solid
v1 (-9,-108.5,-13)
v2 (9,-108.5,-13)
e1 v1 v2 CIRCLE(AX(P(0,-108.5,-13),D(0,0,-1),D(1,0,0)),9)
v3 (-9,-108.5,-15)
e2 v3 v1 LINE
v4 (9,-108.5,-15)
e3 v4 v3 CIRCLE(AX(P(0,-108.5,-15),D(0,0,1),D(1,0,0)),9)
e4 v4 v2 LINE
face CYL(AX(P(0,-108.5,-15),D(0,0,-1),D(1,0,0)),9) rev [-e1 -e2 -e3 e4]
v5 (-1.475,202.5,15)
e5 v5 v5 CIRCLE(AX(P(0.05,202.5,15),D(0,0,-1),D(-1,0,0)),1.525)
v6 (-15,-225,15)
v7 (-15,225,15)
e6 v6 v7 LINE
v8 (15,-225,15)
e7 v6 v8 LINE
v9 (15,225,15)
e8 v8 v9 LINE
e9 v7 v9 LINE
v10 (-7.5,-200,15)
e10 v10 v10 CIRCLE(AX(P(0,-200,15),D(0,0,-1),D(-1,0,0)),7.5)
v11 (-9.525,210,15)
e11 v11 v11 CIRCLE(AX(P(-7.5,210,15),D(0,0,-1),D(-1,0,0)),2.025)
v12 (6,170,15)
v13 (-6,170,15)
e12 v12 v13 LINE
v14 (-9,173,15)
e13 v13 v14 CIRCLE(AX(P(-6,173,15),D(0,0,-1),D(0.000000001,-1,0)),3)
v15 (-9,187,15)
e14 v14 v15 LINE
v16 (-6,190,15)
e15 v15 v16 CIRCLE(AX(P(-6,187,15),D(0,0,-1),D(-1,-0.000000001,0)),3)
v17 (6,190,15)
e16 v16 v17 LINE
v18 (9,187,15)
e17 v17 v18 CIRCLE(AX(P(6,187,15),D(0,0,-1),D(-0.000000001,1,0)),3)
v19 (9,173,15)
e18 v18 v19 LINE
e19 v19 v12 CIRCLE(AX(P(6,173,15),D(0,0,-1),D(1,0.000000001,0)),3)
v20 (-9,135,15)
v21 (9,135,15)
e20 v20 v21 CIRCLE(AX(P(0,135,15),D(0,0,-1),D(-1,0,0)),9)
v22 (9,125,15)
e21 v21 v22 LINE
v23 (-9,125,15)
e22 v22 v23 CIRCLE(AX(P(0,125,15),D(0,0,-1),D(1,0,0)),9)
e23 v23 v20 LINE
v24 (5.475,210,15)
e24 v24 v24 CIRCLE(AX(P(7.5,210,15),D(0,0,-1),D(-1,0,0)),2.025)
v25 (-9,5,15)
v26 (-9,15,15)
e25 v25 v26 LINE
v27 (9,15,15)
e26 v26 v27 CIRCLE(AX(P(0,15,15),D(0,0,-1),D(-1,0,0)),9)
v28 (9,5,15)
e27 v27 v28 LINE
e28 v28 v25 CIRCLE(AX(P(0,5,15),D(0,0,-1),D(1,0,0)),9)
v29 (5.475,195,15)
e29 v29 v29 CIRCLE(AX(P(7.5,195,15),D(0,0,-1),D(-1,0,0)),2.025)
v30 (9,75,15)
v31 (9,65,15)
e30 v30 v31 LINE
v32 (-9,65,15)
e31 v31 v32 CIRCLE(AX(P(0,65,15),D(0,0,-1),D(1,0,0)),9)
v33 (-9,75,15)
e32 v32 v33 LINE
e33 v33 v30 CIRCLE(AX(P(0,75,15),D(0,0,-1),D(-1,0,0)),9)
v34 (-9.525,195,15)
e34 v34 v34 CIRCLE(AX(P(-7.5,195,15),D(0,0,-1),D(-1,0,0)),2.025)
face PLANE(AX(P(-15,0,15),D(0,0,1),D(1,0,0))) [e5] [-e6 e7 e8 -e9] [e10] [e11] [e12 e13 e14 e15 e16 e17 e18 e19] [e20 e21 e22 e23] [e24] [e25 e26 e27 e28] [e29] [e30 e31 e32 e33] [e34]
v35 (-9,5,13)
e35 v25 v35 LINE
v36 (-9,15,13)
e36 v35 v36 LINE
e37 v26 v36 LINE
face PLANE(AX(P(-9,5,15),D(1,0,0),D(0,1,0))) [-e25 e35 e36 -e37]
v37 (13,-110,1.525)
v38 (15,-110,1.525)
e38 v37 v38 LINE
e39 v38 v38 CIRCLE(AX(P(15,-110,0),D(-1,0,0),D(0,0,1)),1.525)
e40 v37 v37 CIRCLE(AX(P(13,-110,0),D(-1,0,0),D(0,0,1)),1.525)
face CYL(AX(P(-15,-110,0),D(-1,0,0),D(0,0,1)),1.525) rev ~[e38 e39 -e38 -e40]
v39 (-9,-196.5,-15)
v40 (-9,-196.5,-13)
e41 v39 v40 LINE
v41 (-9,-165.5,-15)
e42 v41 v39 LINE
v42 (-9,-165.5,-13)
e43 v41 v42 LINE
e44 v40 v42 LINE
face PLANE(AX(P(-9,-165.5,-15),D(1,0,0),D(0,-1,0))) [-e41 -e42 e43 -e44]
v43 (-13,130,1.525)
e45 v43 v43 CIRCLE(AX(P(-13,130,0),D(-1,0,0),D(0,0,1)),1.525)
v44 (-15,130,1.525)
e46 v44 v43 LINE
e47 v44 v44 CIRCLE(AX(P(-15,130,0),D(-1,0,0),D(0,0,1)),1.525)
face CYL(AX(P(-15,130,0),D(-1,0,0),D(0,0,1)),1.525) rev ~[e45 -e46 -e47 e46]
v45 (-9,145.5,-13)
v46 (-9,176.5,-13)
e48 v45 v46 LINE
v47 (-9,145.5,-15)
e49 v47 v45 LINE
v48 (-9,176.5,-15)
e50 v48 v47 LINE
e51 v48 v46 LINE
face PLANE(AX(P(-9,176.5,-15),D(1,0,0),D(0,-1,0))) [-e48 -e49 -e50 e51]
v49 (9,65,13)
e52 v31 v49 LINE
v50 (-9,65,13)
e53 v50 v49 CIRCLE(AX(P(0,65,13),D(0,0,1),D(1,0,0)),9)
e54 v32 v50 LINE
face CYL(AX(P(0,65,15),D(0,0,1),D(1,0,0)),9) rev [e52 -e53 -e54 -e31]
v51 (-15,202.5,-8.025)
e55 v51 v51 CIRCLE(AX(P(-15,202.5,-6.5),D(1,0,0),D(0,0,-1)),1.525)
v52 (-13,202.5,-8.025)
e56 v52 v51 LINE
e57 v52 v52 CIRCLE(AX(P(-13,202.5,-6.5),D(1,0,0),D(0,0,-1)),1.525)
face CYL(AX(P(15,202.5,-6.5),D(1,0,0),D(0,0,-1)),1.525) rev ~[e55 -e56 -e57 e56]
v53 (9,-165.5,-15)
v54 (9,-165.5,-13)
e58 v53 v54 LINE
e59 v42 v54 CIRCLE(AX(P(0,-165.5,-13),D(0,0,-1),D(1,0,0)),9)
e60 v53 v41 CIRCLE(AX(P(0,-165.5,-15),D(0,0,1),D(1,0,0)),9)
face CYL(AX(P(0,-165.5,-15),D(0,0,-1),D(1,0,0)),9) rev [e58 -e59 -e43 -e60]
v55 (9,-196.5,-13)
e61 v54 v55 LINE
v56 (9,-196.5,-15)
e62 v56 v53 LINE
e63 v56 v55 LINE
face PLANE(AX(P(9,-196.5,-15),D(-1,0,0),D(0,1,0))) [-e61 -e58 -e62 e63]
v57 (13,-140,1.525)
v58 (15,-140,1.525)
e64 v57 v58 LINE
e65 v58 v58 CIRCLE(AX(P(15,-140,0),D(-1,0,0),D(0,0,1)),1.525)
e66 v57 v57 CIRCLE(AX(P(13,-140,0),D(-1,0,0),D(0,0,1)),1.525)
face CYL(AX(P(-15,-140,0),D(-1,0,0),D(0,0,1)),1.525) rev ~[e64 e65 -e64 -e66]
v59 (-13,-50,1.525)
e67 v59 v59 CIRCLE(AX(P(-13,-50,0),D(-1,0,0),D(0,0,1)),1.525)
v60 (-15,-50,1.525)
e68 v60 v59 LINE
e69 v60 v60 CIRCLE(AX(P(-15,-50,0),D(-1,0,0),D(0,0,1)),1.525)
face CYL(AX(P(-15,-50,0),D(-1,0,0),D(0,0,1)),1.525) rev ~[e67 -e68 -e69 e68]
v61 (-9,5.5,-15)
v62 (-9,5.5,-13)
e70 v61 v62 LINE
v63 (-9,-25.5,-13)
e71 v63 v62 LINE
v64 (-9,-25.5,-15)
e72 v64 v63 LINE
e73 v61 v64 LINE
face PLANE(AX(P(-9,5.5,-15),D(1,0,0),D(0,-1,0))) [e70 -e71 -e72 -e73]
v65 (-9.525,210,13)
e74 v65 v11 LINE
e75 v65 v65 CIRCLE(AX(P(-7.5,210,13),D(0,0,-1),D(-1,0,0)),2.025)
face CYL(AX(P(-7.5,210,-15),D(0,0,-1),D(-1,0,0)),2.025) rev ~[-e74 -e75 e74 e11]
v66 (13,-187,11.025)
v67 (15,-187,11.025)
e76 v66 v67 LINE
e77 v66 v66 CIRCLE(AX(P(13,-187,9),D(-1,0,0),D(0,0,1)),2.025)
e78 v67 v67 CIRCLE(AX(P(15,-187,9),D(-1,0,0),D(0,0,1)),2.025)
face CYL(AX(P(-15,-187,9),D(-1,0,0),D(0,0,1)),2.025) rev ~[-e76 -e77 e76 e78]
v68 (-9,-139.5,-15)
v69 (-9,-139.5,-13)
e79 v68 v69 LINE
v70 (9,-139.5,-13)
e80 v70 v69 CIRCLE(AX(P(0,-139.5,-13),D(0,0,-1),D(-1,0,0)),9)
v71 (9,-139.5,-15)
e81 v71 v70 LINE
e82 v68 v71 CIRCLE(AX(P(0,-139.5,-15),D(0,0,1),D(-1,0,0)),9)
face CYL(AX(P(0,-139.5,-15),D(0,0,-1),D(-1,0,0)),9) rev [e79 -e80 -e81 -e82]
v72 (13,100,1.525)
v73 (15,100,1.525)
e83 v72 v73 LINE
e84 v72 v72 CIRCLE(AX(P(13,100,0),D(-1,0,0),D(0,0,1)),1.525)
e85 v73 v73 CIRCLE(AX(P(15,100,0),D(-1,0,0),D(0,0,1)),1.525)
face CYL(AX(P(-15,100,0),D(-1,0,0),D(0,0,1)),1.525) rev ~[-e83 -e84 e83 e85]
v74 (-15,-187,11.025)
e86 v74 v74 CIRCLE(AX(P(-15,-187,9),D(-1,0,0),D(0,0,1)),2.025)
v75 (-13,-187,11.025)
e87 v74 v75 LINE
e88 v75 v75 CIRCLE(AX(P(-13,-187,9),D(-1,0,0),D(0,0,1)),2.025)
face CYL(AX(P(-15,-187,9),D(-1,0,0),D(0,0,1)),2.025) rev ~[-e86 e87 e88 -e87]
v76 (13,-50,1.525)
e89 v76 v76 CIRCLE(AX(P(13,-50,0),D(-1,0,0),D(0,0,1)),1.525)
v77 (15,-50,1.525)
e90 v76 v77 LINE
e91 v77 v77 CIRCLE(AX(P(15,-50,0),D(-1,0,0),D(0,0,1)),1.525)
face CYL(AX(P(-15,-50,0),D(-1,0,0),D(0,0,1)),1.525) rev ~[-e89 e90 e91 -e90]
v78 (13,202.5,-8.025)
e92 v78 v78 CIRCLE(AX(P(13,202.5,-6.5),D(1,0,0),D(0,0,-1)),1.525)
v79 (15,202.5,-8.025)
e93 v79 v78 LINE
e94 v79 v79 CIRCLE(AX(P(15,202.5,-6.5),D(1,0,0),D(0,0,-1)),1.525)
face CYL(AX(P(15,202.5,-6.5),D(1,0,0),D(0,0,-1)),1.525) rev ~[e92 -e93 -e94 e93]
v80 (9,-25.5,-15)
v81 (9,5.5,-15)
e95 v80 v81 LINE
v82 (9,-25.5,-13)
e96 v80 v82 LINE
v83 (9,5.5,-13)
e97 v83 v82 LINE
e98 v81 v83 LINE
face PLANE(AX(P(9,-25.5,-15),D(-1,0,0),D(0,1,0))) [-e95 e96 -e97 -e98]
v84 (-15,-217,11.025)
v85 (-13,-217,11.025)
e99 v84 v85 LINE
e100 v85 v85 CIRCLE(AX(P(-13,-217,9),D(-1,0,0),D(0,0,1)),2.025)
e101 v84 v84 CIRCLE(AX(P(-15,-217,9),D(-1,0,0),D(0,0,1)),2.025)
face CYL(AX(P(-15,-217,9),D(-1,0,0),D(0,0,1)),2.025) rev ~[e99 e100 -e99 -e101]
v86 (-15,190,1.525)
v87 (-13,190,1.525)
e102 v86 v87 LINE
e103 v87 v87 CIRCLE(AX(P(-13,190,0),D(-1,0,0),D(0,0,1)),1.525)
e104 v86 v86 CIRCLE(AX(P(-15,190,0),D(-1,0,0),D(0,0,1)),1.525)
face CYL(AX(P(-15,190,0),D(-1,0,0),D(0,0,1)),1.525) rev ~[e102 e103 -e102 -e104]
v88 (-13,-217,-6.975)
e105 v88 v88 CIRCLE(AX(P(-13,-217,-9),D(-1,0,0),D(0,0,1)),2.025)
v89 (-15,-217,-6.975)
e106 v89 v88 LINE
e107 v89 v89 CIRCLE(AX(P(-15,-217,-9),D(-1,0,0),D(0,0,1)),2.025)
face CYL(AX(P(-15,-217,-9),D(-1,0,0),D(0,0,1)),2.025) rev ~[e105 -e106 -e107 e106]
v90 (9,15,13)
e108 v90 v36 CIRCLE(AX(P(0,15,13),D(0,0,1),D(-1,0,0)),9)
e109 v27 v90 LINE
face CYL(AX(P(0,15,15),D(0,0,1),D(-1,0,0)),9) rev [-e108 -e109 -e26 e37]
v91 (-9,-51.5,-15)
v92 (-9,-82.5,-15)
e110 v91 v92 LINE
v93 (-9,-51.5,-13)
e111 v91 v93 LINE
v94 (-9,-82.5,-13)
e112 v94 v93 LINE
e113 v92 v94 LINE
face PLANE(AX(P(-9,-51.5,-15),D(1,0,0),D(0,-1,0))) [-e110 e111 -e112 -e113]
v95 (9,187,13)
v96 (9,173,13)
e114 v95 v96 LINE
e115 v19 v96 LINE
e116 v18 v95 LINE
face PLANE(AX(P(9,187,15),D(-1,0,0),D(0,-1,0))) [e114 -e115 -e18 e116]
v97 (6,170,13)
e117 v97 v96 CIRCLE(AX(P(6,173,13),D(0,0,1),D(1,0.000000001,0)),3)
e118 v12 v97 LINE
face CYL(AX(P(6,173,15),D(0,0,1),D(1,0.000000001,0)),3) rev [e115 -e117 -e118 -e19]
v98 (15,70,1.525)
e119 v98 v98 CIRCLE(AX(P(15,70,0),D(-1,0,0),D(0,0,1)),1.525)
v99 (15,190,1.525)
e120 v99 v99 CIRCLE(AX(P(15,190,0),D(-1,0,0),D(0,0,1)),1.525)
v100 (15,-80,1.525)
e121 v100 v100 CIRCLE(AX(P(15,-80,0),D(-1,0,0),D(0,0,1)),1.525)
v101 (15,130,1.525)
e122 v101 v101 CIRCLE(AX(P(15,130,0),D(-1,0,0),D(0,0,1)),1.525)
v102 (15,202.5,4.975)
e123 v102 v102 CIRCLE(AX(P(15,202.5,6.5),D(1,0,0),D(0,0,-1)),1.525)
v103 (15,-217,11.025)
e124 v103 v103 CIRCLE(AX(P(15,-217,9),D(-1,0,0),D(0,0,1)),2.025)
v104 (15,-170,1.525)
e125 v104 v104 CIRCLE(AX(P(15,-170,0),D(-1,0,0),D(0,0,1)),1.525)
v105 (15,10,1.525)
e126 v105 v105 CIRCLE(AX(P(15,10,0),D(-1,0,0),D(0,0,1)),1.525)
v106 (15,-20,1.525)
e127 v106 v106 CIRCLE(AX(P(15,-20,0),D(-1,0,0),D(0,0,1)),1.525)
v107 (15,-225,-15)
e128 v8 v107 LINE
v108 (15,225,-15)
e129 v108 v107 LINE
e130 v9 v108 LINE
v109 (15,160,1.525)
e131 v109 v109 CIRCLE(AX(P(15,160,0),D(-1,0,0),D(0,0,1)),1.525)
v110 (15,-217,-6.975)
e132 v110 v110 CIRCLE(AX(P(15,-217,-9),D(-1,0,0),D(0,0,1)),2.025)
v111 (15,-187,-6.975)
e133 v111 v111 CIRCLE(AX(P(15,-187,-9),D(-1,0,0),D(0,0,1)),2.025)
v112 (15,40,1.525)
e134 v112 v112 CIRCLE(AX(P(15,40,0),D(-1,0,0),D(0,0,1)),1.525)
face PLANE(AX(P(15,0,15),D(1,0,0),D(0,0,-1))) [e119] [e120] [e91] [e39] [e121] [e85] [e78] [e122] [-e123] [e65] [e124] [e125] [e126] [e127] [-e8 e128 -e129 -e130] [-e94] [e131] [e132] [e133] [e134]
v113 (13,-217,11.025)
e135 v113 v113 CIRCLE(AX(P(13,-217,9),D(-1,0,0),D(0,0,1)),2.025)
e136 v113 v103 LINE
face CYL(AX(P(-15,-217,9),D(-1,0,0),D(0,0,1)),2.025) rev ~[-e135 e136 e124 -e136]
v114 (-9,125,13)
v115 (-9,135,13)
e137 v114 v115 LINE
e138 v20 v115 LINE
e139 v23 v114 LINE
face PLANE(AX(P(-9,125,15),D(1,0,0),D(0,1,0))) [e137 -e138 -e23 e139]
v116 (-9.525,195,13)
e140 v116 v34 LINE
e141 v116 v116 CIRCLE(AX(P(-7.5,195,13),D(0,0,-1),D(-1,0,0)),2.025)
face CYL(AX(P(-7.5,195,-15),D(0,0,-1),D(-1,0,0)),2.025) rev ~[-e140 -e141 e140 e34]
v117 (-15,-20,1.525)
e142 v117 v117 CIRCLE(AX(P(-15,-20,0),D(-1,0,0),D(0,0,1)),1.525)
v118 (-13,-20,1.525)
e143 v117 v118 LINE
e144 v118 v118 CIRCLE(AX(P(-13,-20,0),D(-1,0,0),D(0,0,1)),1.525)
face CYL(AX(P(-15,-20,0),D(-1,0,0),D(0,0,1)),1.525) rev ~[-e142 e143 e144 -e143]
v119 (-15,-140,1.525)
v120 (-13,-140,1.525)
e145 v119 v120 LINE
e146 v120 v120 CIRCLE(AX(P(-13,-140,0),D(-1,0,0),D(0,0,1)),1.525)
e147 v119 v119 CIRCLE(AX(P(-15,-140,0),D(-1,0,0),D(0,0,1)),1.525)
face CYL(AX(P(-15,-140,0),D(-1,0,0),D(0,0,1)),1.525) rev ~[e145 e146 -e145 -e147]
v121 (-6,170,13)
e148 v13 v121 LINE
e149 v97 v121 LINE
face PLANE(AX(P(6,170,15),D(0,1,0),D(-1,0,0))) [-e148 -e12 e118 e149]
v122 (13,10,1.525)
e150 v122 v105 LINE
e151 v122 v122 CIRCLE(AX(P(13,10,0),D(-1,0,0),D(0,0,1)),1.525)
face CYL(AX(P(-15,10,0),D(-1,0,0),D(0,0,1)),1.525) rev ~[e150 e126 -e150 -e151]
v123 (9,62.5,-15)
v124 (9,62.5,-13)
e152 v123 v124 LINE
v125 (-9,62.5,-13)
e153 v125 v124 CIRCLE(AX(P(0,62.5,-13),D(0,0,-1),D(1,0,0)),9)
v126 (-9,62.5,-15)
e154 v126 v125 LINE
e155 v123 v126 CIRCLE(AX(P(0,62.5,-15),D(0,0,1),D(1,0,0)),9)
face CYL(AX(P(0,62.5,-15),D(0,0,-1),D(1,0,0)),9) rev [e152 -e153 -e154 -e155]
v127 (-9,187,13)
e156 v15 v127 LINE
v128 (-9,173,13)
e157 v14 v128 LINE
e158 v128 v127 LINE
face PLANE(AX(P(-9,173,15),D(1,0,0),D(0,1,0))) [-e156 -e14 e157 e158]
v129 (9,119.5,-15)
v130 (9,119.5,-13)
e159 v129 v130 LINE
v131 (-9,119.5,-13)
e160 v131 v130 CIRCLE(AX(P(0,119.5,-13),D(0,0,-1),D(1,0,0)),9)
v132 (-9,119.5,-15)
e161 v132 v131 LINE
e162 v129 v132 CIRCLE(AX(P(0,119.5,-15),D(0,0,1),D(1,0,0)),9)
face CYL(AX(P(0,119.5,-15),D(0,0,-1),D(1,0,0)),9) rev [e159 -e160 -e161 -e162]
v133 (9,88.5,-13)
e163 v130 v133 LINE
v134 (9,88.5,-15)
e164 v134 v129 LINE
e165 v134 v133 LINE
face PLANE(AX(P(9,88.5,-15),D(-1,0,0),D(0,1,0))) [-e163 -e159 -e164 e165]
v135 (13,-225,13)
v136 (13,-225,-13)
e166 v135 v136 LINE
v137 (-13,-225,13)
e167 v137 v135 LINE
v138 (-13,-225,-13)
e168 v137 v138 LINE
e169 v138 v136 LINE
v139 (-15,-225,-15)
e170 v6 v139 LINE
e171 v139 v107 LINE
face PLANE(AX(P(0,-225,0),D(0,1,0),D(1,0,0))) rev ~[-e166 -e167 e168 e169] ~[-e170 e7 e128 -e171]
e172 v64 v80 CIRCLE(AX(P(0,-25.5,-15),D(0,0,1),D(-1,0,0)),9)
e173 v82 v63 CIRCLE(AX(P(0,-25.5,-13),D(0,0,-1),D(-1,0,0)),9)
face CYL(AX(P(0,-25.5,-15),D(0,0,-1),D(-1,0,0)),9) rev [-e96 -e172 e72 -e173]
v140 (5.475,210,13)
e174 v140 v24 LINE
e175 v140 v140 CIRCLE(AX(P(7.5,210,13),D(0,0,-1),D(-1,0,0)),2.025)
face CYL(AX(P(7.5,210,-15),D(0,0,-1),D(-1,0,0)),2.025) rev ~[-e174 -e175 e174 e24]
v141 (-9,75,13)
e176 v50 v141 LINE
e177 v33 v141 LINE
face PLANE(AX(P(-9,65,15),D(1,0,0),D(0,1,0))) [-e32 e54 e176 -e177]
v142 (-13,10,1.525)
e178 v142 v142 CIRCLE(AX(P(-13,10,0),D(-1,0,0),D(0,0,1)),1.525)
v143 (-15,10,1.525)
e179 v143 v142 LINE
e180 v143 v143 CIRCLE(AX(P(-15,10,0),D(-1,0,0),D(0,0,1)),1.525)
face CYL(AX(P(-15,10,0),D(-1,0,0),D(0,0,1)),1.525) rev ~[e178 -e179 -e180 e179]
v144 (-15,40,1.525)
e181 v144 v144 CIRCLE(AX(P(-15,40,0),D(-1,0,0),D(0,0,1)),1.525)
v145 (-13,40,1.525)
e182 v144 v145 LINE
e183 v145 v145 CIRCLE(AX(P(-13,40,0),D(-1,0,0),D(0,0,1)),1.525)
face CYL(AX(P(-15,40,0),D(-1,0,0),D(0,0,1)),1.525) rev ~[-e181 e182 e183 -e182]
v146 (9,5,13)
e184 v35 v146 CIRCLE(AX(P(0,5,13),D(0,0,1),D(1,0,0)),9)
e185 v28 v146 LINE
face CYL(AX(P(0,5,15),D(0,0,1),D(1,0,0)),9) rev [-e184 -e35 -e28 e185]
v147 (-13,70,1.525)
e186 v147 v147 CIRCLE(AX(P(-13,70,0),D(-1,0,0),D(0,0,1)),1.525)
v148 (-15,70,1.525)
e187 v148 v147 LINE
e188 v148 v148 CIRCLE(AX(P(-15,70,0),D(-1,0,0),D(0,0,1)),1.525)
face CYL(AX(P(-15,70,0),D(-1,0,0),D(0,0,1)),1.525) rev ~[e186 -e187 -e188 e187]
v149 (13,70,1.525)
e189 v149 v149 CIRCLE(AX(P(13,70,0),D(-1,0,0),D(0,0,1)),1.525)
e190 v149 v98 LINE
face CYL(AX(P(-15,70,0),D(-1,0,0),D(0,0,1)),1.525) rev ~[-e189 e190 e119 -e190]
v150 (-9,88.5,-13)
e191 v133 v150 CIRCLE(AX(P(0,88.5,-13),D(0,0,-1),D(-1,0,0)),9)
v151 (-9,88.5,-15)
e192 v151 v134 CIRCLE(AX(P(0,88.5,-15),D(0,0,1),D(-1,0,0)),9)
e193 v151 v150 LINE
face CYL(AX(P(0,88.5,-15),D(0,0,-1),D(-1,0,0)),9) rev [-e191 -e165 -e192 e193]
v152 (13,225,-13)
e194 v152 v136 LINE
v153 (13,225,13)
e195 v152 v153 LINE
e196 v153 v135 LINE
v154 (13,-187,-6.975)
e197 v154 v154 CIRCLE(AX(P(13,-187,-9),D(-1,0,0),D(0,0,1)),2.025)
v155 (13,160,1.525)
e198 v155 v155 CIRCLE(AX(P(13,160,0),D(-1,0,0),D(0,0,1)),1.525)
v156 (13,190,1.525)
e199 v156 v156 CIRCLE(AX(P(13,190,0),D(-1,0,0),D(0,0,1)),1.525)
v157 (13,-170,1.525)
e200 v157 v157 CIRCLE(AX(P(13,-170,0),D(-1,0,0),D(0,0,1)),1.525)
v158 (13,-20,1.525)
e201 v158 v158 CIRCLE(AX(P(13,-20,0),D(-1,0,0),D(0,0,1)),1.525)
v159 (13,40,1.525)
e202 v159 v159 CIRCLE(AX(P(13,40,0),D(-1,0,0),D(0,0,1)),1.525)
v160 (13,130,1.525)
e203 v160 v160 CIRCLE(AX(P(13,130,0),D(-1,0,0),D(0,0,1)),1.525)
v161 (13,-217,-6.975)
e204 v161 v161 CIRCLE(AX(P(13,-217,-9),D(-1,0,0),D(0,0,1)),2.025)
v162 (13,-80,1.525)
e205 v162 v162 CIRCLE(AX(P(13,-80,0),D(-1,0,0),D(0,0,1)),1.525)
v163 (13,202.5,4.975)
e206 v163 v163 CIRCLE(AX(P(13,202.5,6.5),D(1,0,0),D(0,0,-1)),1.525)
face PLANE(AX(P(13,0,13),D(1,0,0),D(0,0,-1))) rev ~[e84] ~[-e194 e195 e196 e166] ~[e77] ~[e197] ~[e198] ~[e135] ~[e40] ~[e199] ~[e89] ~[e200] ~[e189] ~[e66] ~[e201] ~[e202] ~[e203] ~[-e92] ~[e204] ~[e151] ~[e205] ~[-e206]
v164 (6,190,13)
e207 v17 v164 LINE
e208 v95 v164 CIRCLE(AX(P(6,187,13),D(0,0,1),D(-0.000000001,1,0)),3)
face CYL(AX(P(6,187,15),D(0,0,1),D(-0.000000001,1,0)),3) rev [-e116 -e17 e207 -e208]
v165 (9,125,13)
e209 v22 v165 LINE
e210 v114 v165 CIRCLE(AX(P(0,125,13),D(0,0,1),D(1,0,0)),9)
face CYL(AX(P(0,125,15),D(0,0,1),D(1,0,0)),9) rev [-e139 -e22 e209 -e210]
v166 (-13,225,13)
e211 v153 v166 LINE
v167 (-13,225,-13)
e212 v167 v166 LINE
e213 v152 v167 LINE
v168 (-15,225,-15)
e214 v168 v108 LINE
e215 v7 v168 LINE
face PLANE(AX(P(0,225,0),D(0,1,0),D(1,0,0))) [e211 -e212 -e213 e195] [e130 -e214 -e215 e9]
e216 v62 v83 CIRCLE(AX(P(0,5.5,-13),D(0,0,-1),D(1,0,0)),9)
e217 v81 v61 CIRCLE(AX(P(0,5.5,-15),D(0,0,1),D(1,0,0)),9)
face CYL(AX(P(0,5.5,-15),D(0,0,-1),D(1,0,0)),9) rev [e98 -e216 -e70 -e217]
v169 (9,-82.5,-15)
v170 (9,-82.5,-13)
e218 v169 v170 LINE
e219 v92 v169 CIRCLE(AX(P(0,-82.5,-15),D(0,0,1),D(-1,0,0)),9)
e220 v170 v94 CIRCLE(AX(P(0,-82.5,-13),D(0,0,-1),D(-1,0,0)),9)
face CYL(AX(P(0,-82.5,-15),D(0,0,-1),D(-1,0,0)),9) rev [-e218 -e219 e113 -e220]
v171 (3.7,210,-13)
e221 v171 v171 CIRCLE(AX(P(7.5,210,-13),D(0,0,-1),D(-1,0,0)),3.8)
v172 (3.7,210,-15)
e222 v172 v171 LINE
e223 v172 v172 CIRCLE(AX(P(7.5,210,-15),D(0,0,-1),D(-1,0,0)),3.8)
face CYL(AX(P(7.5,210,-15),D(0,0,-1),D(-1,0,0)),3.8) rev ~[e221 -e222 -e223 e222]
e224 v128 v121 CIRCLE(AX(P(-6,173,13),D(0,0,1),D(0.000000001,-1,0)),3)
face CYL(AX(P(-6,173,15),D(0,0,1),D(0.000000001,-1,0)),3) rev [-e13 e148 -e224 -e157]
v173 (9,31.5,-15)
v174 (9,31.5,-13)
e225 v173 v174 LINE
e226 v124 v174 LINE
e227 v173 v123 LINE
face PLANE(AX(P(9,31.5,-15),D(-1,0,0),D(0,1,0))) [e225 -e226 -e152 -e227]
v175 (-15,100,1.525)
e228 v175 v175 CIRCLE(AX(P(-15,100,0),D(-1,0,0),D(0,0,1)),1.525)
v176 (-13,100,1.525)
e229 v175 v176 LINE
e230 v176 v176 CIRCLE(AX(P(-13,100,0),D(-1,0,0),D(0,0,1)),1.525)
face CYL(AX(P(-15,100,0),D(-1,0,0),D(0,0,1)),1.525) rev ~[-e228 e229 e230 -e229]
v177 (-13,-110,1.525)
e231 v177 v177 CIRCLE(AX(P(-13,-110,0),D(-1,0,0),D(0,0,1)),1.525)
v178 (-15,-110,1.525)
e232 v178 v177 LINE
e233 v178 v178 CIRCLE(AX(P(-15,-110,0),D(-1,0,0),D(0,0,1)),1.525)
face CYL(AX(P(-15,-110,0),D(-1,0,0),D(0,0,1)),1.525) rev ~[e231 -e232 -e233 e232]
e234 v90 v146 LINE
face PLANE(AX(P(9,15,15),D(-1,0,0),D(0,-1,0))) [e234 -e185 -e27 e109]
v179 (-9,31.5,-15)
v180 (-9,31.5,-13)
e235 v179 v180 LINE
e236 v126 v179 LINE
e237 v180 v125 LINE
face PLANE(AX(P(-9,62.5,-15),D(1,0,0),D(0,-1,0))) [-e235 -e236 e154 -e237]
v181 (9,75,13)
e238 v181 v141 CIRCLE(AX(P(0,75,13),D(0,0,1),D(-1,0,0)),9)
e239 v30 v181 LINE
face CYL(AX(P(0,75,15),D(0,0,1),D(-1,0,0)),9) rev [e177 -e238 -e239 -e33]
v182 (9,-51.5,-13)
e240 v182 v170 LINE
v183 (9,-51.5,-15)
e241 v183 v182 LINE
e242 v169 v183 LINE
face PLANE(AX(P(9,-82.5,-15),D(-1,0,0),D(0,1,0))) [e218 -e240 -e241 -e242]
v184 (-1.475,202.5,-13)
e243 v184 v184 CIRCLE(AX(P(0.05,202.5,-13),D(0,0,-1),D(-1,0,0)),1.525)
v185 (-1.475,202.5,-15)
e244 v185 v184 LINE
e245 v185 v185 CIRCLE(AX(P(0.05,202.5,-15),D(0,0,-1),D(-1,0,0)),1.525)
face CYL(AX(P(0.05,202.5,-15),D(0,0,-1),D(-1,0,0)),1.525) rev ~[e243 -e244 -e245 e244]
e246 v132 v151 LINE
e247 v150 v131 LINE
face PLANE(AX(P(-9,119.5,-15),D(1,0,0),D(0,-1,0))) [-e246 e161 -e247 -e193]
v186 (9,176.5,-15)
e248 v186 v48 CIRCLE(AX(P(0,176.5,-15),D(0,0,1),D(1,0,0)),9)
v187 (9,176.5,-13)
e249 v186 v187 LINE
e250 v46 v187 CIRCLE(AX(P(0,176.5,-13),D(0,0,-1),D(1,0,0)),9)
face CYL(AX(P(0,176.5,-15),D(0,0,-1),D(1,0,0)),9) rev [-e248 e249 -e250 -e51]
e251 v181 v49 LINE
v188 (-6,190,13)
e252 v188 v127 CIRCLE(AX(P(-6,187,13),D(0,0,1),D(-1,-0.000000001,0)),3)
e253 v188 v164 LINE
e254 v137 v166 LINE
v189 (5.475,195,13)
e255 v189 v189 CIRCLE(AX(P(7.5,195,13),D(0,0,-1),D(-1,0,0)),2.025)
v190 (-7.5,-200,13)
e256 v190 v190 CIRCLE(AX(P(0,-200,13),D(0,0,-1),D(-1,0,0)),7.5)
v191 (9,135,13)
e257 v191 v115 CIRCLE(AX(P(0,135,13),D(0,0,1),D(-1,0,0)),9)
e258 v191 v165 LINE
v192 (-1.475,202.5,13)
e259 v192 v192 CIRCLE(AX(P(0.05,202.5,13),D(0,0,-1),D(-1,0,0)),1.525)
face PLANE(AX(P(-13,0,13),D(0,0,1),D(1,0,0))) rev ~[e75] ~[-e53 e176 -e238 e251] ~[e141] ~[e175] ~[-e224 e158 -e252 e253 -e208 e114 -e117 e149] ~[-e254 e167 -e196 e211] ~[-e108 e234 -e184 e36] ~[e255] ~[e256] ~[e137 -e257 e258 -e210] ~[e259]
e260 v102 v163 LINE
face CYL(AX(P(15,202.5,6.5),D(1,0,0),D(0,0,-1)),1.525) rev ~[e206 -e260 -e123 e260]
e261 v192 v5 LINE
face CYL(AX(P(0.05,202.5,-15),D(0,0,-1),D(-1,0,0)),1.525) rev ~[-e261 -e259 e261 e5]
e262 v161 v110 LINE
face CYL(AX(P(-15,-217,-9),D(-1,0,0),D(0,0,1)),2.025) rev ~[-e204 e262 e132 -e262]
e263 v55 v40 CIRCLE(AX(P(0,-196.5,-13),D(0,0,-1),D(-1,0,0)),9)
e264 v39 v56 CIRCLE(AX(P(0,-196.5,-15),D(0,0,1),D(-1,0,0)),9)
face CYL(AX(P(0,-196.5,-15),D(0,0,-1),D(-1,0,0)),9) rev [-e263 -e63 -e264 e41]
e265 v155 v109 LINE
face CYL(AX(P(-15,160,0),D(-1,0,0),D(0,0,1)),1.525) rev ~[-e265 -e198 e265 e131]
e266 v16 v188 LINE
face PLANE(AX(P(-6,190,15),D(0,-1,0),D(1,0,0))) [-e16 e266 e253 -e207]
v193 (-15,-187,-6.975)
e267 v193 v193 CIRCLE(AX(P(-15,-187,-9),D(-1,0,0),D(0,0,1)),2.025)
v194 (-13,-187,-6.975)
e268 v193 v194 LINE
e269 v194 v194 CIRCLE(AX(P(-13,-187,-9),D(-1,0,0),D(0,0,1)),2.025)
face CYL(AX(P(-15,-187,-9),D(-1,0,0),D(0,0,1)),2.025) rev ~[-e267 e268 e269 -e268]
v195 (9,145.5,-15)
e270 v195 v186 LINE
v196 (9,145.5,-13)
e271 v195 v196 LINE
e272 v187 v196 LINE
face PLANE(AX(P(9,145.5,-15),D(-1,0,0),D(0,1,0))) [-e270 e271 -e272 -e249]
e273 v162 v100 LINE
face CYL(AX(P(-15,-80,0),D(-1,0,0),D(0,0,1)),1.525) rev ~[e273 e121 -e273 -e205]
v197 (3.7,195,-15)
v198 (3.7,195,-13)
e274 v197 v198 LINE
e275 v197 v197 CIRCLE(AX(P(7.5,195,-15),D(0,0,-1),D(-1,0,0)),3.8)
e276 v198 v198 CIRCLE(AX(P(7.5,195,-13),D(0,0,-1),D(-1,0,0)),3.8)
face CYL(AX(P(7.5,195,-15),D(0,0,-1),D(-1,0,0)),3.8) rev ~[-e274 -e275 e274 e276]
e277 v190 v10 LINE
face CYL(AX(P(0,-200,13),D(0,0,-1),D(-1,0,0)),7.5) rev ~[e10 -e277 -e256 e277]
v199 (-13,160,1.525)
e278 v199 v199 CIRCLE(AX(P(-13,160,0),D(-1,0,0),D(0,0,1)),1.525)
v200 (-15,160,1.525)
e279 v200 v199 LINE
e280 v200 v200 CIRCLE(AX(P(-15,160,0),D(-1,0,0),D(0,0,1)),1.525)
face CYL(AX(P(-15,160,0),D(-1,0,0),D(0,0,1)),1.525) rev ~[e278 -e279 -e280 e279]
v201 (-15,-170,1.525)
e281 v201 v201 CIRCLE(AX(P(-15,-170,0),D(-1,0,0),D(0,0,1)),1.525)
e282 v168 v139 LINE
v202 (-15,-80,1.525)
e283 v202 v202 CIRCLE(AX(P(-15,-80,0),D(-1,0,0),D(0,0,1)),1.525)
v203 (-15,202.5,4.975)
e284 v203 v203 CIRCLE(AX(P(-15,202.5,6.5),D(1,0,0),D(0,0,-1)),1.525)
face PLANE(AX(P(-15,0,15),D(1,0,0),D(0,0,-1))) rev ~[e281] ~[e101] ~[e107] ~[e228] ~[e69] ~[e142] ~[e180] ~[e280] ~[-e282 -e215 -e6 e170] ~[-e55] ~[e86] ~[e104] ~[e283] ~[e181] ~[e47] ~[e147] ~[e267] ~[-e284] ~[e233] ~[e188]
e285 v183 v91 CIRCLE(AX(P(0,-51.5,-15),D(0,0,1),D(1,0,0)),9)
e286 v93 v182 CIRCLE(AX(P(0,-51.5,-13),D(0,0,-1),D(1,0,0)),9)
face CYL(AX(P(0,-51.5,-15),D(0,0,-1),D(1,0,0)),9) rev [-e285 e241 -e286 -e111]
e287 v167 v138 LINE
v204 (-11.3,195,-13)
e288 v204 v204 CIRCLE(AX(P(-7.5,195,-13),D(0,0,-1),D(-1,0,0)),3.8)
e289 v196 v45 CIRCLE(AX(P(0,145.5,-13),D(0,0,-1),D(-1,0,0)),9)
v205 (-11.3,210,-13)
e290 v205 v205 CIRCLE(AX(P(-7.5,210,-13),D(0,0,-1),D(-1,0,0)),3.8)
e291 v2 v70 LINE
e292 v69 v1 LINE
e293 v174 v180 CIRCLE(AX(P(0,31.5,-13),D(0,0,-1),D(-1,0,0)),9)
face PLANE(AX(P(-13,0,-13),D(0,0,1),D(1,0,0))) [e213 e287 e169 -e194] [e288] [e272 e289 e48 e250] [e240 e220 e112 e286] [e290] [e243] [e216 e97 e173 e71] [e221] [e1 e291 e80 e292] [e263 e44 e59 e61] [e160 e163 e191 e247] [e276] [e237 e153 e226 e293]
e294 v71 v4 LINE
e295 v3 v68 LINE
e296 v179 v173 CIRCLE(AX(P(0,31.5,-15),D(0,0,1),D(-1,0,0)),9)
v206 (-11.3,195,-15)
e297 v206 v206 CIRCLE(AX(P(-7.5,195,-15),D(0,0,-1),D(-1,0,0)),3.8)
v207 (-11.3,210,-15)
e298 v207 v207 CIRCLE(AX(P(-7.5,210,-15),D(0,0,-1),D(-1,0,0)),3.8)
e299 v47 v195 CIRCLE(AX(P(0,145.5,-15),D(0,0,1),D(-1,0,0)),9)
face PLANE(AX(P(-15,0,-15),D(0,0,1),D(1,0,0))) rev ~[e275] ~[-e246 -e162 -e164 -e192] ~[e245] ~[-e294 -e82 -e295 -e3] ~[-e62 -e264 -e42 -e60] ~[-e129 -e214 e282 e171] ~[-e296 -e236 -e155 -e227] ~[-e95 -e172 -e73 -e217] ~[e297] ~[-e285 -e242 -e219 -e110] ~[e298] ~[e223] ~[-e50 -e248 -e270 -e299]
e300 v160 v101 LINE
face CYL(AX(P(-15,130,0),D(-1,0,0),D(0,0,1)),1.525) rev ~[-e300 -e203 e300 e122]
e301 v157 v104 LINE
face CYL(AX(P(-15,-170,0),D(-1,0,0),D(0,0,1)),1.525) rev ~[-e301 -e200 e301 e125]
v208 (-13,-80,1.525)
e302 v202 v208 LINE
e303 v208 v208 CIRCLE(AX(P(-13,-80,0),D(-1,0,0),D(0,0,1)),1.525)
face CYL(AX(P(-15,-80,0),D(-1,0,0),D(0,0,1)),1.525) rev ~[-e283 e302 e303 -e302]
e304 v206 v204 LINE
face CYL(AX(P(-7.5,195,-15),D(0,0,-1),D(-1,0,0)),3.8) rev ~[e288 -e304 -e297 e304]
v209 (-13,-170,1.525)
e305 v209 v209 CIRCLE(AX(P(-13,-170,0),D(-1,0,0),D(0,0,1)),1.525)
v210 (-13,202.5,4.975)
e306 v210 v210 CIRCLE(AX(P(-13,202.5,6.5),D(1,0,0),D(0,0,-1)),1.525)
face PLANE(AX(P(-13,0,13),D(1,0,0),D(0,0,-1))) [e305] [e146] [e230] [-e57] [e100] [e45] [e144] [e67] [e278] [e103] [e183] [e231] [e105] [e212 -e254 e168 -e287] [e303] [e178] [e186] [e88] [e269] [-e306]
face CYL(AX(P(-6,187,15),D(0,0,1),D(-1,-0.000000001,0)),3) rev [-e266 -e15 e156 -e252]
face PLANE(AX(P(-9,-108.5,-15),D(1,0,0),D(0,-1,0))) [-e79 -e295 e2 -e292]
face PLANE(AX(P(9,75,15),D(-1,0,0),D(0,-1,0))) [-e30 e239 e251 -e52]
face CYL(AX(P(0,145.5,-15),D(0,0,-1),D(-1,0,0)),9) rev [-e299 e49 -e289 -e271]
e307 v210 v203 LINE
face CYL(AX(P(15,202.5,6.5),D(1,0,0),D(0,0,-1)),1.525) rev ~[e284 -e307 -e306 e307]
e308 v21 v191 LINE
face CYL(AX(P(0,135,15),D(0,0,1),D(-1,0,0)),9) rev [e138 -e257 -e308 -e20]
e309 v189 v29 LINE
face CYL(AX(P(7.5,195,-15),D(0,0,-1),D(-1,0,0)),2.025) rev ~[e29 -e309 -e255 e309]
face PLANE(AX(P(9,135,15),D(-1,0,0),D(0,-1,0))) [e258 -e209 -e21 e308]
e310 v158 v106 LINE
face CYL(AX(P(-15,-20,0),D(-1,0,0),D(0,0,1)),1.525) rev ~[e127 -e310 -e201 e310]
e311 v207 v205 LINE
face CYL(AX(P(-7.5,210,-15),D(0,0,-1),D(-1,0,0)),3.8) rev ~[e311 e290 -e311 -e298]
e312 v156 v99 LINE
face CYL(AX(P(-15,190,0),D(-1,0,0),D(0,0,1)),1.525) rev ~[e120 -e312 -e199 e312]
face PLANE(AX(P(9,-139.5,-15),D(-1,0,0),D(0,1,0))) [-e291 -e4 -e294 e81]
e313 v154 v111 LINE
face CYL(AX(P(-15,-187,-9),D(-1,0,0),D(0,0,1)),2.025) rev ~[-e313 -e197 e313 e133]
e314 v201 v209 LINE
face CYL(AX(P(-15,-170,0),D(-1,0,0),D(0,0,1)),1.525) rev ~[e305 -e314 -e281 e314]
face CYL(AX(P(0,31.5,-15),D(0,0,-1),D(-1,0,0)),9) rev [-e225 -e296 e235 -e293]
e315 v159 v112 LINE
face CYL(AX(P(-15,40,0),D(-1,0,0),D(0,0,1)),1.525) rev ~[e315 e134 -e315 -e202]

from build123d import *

# Parameters (mm, degrees)
SKETCH_2_W               = 30
SKETCH_2_H               = 30
EXTRUDE_1_DEPTH          = 225
SKETCH_4_W               = 26
SKETCH_4_H               = 26
CUT_EXTRUDE_1_DEPTH      = 226
CUT_EXTRUDE_1_DEPTH_BACK = 226
SKETCH_5_R               = 2.025
CUT_EXTRUDE_2_DEPTH      = 1
CUT_EXTRUDE_2_DEPTH_BACK = 31
SKETCH_7_R               = 1.525
CUT_EXTRUDE_3_DEPTH      = 1
CUT_EXTRUDE_3_DEPTH_BACK = 31
SKETCH_8_R               = 1.525
CUT_EXTRUDE_4_DEPTH      = 31
PATTERN_LINEAR_1_COUNT   = 13
PATTERN_LINEAR_1_PITCH   = 30
SKETCH_9_R               = 3.8
CUT_EXTRUDE_5_DEPTH      = 5
CUT_EXTRUDE_6_DEPTH      = 5
PATTERN_LINEAR_2_COUNT   = 7
PATTERN_LINEAR_2_PITCH   = 57
SKETCH_11_R              = 2.025
CUT_EXTRUDE_7_DEPTH      = 1
CUT_EXTRUDE_7_DEPTH_BACK = 31
CUT_EXTRUDE_8_DEPTH      = 10
SKETCH_14_R              = 1.525
CUT_EXTRUDE_9_DEPTH      = 1
CUT_EXTRUDE_9_DEPTH_BACK = 31
SKETCH_15_R              = 7.5
CUT_EXTRUDE_10_DEPTH     = 2


with BuildPart() as part:
    # 草图2 → 凸台-拉伸1 (new body, symmetric)
    with BuildSketch(Plane(origin=(0, 0, 0), x_dir=(1, 0, 0), z_dir=(0, 1, 0))):
        Rectangle(SKETCH_2_W, SKETCH_2_H)
    extrude(amount=EXTRUDE_1_DEPTH, both=True)

    # 草图4 → 切除-拉伸1 (cut, two sides)
    with BuildSketch(Plane(origin=(0, 0, 0), x_dir=(1, 0, 0), z_dir=(0, 1, 0))) as cut_extrude_1_sk:
        Rectangle(SKETCH_4_W, SKETCH_4_H)
    extrude(amount=CUT_EXTRUDE_1_DEPTH, mode=Mode.SUBTRACT)
    extrude(cut_extrude_1_sk.sketch, amount=-CUT_EXTRUDE_1_DEPTH_BACK, mode=Mode.SUBTRACT)

    # 草图5 → 切除-拉伸2 (cut, two sides)
    with BuildSketch(Plane(origin=(0, 0, -15), x_dir=(-1, 0, 0), z_dir=(0, 0, -1))) as cut_extrude_2_sk:
        with Locations((-7.5, 210)):
            Circle(SKETCH_5_R)
        with Locations((7.5, 210)):
            Circle(SKETCH_5_R)
        with Locations((-7.5, 195)):
            Circle(SKETCH_5_R)
        with Locations((7.5, 195)):
            Circle(SKETCH_5_R)
    extrude(amount=CUT_EXTRUDE_2_DEPTH, mode=Mode.SUBTRACT)
    extrude(cut_extrude_2_sk.sketch, amount=-CUT_EXTRUDE_2_DEPTH_BACK, mode=Mode.SUBTRACT)

    # 草图7 → 切除-拉伸3 (cut, two sides)
    with BuildSketch(Plane(origin=(15, 0, 0), x_dir=(0, 0, -1), z_dir=(1, 0, 0))) as cut_extrude_3_sk:
        with Locations((-6.5, 202.499999999)):
            Circle(SKETCH_7_R)
        with Locations((6.5, 202.499999999)):
            Circle(SKETCH_7_R)
    extrude(amount=CUT_EXTRUDE_3_DEPTH, mode=Mode.SUBTRACT)
    extrude(cut_extrude_3_sk.sketch, amount=-CUT_EXTRUDE_3_DEPTH_BACK, mode=Mode.SUBTRACT)

    # 草图8 → 切除-拉伸4 (cut, through all)
    with BuildSketch(Plane.ZY.offset(15)):
        with Locations((0, -170.000000001)):
            Circle(SKETCH_8_R)
    cut_extrude_4 = extrude(amount=-CUT_EXTRUDE_4_DEPTH, mode=Mode.SUBTRACT)

    # 阵列(线性)1: 切除-拉伸4 ×13
    with Locations(*[(0, i * PATTERN_LINEAR_1_PITCH, 0) for i in range(1, PATTERN_LINEAR_1_COUNT)]):
        add(cut_extrude_4, mode=Mode.SUBTRACT)

    # 草图9 → 切除-拉伸5 (cut)
    with BuildSketch(Plane(origin=(0, 0, -15), x_dir=(-1, 0, 0), z_dir=(0, 0, -1))):
        with Locations((-7.5, 210)):
            Circle(SKETCH_9_R)
        with Locations((7.5, 210)):
            Circle(SKETCH_9_R)
        with Locations((7.5, 195)):
            Circle(SKETCH_9_R)
        with Locations((-7.5, 195)):
            Circle(SKETCH_9_R)
    extrude(amount=-CUT_EXTRUDE_5_DEPTH, mode=Mode.SUBTRACT)

    # 草图10 → 切除-拉伸6 (cut)
    with BuildSketch(Plane(origin=(0, 0, -15), x_dir=(-1, 0, 0), z_dir=(0, 0, -1))):
        with BuildLine():
            Line((-9, -196.5), (-9, -165.5))
            ThreePointArc((-9, -165.5), (0, -156.5), (9, -165.5))
            Line((9, -165.5), (9, -196.5))
            ThreePointArc((9, -196.5), (0, -205.5), (-9, -196.5))
        make_face()
    cut_extrude_6 = extrude(amount=-CUT_EXTRUDE_6_DEPTH, mode=Mode.SUBTRACT)

    # 阵列(线性)2: 切除-拉伸6 ×7
    with Locations(*[(0, i * PATTERN_LINEAR_2_PITCH, 0) for i in range(1, PATTERN_LINEAR_2_COUNT)]):
        add(cut_extrude_6, mode=Mode.SUBTRACT)

    # 草图11 → 切除-拉伸7 (cut, two sides)
    with BuildSketch(Plane.ZY.offset(15)) as cut_extrude_7_sk:
        with Locations((-9, -187)):
            Circle(SKETCH_11_R)
        with Locations((9, -187)):
            Circle(SKETCH_11_R)
        with Locations((-9, -217)):
            Circle(SKETCH_11_R)
        with Locations((9, -217)):
            Circle(SKETCH_11_R)
    extrude(amount=CUT_EXTRUDE_7_DEPTH, mode=Mode.SUBTRACT)
    extrude(cut_extrude_7_sk.sketch, amount=-CUT_EXTRUDE_7_DEPTH_BACK, mode=Mode.SUBTRACT)

    # 草图13 → 切除-拉伸8 (cut)
    with BuildSketch(Plane.XY.offset(15)):
        with BuildLine():
            Line((-6, 190), (6, 190))
            ThreePointArc((6, 190), (8.121320344, 189.121320344), (9, 187))
            Line((9, 187), (9, 173))
            ThreePointArc((9, 173), (8.121320344, 170.878679656), (6, 170))
            Line((6, 170), (-6, 170))
            ThreePointArc((-6, 170), (-8.121320344, 170.878679656), (-9, 173))
            Line((-9, 173), (-9, 187))
            ThreePointArc((-9, 187), (-8.121320344, 189.121320344), (-6, 190))
        make_face()
        with BuildLine():
            Line((9, 135), (9, 125))
            ThreePointArc((9, 125), (0, 116), (-9, 125))
            Line((-9, 125), (-9, 135))
            ThreePointArc((-9, 135), (0, 144), (9, 135))
        make_face()
        with BuildLine():
            Line((-9, 65), (-9, 75))
            ThreePointArc((-9, 75), (0, 84), (9, 75))
            Line((9, 75), (9, 65))
            ThreePointArc((9, 65), (0, 56), (-9, 65))
        make_face()
        with BuildLine():
            Line((-9, 5), (-9, 15))
            ThreePointArc((-9, 15), (0, 24), (9, 15))
            Line((9, 15), (9, 5))
            ThreePointArc((9, 5), (0, -4), (-9, 5))
        make_face()
    extrude(amount=-CUT_EXTRUDE_8_DEPTH, mode=Mode.SUBTRACT)

    # 草图14 → 切除-拉伸9 (cut, two sides)
    with BuildSketch(Plane(origin=(0, 0, -15), x_dir=(-1, 0, 0), z_dir=(0, 0, -1))) as cut_extrude_9_sk:
        with Locations((-0.05, 202.5)):
            Circle(SKETCH_14_R)
    extrude(amount=CUT_EXTRUDE_9_DEPTH, mode=Mode.SUBTRACT)
    extrude(cut_extrude_9_sk.sketch, amount=-CUT_EXTRUDE_9_DEPTH_BACK, mode=Mode.SUBTRACT)

    # 草图15 → 切除-拉伸10 (cut)
    with BuildSketch(Plane(origin=(0, 0, 13), x_dir=(-1, 0, 0), z_dir=(0, 0, -1))):
        with Locations((0, -200)):
            Circle(SKETCH_15_R)
    extrude(amount=-CUT_EXTRUDE_10_DEPTH, mode=Mode.SUBTRACT)


solid = part.part
